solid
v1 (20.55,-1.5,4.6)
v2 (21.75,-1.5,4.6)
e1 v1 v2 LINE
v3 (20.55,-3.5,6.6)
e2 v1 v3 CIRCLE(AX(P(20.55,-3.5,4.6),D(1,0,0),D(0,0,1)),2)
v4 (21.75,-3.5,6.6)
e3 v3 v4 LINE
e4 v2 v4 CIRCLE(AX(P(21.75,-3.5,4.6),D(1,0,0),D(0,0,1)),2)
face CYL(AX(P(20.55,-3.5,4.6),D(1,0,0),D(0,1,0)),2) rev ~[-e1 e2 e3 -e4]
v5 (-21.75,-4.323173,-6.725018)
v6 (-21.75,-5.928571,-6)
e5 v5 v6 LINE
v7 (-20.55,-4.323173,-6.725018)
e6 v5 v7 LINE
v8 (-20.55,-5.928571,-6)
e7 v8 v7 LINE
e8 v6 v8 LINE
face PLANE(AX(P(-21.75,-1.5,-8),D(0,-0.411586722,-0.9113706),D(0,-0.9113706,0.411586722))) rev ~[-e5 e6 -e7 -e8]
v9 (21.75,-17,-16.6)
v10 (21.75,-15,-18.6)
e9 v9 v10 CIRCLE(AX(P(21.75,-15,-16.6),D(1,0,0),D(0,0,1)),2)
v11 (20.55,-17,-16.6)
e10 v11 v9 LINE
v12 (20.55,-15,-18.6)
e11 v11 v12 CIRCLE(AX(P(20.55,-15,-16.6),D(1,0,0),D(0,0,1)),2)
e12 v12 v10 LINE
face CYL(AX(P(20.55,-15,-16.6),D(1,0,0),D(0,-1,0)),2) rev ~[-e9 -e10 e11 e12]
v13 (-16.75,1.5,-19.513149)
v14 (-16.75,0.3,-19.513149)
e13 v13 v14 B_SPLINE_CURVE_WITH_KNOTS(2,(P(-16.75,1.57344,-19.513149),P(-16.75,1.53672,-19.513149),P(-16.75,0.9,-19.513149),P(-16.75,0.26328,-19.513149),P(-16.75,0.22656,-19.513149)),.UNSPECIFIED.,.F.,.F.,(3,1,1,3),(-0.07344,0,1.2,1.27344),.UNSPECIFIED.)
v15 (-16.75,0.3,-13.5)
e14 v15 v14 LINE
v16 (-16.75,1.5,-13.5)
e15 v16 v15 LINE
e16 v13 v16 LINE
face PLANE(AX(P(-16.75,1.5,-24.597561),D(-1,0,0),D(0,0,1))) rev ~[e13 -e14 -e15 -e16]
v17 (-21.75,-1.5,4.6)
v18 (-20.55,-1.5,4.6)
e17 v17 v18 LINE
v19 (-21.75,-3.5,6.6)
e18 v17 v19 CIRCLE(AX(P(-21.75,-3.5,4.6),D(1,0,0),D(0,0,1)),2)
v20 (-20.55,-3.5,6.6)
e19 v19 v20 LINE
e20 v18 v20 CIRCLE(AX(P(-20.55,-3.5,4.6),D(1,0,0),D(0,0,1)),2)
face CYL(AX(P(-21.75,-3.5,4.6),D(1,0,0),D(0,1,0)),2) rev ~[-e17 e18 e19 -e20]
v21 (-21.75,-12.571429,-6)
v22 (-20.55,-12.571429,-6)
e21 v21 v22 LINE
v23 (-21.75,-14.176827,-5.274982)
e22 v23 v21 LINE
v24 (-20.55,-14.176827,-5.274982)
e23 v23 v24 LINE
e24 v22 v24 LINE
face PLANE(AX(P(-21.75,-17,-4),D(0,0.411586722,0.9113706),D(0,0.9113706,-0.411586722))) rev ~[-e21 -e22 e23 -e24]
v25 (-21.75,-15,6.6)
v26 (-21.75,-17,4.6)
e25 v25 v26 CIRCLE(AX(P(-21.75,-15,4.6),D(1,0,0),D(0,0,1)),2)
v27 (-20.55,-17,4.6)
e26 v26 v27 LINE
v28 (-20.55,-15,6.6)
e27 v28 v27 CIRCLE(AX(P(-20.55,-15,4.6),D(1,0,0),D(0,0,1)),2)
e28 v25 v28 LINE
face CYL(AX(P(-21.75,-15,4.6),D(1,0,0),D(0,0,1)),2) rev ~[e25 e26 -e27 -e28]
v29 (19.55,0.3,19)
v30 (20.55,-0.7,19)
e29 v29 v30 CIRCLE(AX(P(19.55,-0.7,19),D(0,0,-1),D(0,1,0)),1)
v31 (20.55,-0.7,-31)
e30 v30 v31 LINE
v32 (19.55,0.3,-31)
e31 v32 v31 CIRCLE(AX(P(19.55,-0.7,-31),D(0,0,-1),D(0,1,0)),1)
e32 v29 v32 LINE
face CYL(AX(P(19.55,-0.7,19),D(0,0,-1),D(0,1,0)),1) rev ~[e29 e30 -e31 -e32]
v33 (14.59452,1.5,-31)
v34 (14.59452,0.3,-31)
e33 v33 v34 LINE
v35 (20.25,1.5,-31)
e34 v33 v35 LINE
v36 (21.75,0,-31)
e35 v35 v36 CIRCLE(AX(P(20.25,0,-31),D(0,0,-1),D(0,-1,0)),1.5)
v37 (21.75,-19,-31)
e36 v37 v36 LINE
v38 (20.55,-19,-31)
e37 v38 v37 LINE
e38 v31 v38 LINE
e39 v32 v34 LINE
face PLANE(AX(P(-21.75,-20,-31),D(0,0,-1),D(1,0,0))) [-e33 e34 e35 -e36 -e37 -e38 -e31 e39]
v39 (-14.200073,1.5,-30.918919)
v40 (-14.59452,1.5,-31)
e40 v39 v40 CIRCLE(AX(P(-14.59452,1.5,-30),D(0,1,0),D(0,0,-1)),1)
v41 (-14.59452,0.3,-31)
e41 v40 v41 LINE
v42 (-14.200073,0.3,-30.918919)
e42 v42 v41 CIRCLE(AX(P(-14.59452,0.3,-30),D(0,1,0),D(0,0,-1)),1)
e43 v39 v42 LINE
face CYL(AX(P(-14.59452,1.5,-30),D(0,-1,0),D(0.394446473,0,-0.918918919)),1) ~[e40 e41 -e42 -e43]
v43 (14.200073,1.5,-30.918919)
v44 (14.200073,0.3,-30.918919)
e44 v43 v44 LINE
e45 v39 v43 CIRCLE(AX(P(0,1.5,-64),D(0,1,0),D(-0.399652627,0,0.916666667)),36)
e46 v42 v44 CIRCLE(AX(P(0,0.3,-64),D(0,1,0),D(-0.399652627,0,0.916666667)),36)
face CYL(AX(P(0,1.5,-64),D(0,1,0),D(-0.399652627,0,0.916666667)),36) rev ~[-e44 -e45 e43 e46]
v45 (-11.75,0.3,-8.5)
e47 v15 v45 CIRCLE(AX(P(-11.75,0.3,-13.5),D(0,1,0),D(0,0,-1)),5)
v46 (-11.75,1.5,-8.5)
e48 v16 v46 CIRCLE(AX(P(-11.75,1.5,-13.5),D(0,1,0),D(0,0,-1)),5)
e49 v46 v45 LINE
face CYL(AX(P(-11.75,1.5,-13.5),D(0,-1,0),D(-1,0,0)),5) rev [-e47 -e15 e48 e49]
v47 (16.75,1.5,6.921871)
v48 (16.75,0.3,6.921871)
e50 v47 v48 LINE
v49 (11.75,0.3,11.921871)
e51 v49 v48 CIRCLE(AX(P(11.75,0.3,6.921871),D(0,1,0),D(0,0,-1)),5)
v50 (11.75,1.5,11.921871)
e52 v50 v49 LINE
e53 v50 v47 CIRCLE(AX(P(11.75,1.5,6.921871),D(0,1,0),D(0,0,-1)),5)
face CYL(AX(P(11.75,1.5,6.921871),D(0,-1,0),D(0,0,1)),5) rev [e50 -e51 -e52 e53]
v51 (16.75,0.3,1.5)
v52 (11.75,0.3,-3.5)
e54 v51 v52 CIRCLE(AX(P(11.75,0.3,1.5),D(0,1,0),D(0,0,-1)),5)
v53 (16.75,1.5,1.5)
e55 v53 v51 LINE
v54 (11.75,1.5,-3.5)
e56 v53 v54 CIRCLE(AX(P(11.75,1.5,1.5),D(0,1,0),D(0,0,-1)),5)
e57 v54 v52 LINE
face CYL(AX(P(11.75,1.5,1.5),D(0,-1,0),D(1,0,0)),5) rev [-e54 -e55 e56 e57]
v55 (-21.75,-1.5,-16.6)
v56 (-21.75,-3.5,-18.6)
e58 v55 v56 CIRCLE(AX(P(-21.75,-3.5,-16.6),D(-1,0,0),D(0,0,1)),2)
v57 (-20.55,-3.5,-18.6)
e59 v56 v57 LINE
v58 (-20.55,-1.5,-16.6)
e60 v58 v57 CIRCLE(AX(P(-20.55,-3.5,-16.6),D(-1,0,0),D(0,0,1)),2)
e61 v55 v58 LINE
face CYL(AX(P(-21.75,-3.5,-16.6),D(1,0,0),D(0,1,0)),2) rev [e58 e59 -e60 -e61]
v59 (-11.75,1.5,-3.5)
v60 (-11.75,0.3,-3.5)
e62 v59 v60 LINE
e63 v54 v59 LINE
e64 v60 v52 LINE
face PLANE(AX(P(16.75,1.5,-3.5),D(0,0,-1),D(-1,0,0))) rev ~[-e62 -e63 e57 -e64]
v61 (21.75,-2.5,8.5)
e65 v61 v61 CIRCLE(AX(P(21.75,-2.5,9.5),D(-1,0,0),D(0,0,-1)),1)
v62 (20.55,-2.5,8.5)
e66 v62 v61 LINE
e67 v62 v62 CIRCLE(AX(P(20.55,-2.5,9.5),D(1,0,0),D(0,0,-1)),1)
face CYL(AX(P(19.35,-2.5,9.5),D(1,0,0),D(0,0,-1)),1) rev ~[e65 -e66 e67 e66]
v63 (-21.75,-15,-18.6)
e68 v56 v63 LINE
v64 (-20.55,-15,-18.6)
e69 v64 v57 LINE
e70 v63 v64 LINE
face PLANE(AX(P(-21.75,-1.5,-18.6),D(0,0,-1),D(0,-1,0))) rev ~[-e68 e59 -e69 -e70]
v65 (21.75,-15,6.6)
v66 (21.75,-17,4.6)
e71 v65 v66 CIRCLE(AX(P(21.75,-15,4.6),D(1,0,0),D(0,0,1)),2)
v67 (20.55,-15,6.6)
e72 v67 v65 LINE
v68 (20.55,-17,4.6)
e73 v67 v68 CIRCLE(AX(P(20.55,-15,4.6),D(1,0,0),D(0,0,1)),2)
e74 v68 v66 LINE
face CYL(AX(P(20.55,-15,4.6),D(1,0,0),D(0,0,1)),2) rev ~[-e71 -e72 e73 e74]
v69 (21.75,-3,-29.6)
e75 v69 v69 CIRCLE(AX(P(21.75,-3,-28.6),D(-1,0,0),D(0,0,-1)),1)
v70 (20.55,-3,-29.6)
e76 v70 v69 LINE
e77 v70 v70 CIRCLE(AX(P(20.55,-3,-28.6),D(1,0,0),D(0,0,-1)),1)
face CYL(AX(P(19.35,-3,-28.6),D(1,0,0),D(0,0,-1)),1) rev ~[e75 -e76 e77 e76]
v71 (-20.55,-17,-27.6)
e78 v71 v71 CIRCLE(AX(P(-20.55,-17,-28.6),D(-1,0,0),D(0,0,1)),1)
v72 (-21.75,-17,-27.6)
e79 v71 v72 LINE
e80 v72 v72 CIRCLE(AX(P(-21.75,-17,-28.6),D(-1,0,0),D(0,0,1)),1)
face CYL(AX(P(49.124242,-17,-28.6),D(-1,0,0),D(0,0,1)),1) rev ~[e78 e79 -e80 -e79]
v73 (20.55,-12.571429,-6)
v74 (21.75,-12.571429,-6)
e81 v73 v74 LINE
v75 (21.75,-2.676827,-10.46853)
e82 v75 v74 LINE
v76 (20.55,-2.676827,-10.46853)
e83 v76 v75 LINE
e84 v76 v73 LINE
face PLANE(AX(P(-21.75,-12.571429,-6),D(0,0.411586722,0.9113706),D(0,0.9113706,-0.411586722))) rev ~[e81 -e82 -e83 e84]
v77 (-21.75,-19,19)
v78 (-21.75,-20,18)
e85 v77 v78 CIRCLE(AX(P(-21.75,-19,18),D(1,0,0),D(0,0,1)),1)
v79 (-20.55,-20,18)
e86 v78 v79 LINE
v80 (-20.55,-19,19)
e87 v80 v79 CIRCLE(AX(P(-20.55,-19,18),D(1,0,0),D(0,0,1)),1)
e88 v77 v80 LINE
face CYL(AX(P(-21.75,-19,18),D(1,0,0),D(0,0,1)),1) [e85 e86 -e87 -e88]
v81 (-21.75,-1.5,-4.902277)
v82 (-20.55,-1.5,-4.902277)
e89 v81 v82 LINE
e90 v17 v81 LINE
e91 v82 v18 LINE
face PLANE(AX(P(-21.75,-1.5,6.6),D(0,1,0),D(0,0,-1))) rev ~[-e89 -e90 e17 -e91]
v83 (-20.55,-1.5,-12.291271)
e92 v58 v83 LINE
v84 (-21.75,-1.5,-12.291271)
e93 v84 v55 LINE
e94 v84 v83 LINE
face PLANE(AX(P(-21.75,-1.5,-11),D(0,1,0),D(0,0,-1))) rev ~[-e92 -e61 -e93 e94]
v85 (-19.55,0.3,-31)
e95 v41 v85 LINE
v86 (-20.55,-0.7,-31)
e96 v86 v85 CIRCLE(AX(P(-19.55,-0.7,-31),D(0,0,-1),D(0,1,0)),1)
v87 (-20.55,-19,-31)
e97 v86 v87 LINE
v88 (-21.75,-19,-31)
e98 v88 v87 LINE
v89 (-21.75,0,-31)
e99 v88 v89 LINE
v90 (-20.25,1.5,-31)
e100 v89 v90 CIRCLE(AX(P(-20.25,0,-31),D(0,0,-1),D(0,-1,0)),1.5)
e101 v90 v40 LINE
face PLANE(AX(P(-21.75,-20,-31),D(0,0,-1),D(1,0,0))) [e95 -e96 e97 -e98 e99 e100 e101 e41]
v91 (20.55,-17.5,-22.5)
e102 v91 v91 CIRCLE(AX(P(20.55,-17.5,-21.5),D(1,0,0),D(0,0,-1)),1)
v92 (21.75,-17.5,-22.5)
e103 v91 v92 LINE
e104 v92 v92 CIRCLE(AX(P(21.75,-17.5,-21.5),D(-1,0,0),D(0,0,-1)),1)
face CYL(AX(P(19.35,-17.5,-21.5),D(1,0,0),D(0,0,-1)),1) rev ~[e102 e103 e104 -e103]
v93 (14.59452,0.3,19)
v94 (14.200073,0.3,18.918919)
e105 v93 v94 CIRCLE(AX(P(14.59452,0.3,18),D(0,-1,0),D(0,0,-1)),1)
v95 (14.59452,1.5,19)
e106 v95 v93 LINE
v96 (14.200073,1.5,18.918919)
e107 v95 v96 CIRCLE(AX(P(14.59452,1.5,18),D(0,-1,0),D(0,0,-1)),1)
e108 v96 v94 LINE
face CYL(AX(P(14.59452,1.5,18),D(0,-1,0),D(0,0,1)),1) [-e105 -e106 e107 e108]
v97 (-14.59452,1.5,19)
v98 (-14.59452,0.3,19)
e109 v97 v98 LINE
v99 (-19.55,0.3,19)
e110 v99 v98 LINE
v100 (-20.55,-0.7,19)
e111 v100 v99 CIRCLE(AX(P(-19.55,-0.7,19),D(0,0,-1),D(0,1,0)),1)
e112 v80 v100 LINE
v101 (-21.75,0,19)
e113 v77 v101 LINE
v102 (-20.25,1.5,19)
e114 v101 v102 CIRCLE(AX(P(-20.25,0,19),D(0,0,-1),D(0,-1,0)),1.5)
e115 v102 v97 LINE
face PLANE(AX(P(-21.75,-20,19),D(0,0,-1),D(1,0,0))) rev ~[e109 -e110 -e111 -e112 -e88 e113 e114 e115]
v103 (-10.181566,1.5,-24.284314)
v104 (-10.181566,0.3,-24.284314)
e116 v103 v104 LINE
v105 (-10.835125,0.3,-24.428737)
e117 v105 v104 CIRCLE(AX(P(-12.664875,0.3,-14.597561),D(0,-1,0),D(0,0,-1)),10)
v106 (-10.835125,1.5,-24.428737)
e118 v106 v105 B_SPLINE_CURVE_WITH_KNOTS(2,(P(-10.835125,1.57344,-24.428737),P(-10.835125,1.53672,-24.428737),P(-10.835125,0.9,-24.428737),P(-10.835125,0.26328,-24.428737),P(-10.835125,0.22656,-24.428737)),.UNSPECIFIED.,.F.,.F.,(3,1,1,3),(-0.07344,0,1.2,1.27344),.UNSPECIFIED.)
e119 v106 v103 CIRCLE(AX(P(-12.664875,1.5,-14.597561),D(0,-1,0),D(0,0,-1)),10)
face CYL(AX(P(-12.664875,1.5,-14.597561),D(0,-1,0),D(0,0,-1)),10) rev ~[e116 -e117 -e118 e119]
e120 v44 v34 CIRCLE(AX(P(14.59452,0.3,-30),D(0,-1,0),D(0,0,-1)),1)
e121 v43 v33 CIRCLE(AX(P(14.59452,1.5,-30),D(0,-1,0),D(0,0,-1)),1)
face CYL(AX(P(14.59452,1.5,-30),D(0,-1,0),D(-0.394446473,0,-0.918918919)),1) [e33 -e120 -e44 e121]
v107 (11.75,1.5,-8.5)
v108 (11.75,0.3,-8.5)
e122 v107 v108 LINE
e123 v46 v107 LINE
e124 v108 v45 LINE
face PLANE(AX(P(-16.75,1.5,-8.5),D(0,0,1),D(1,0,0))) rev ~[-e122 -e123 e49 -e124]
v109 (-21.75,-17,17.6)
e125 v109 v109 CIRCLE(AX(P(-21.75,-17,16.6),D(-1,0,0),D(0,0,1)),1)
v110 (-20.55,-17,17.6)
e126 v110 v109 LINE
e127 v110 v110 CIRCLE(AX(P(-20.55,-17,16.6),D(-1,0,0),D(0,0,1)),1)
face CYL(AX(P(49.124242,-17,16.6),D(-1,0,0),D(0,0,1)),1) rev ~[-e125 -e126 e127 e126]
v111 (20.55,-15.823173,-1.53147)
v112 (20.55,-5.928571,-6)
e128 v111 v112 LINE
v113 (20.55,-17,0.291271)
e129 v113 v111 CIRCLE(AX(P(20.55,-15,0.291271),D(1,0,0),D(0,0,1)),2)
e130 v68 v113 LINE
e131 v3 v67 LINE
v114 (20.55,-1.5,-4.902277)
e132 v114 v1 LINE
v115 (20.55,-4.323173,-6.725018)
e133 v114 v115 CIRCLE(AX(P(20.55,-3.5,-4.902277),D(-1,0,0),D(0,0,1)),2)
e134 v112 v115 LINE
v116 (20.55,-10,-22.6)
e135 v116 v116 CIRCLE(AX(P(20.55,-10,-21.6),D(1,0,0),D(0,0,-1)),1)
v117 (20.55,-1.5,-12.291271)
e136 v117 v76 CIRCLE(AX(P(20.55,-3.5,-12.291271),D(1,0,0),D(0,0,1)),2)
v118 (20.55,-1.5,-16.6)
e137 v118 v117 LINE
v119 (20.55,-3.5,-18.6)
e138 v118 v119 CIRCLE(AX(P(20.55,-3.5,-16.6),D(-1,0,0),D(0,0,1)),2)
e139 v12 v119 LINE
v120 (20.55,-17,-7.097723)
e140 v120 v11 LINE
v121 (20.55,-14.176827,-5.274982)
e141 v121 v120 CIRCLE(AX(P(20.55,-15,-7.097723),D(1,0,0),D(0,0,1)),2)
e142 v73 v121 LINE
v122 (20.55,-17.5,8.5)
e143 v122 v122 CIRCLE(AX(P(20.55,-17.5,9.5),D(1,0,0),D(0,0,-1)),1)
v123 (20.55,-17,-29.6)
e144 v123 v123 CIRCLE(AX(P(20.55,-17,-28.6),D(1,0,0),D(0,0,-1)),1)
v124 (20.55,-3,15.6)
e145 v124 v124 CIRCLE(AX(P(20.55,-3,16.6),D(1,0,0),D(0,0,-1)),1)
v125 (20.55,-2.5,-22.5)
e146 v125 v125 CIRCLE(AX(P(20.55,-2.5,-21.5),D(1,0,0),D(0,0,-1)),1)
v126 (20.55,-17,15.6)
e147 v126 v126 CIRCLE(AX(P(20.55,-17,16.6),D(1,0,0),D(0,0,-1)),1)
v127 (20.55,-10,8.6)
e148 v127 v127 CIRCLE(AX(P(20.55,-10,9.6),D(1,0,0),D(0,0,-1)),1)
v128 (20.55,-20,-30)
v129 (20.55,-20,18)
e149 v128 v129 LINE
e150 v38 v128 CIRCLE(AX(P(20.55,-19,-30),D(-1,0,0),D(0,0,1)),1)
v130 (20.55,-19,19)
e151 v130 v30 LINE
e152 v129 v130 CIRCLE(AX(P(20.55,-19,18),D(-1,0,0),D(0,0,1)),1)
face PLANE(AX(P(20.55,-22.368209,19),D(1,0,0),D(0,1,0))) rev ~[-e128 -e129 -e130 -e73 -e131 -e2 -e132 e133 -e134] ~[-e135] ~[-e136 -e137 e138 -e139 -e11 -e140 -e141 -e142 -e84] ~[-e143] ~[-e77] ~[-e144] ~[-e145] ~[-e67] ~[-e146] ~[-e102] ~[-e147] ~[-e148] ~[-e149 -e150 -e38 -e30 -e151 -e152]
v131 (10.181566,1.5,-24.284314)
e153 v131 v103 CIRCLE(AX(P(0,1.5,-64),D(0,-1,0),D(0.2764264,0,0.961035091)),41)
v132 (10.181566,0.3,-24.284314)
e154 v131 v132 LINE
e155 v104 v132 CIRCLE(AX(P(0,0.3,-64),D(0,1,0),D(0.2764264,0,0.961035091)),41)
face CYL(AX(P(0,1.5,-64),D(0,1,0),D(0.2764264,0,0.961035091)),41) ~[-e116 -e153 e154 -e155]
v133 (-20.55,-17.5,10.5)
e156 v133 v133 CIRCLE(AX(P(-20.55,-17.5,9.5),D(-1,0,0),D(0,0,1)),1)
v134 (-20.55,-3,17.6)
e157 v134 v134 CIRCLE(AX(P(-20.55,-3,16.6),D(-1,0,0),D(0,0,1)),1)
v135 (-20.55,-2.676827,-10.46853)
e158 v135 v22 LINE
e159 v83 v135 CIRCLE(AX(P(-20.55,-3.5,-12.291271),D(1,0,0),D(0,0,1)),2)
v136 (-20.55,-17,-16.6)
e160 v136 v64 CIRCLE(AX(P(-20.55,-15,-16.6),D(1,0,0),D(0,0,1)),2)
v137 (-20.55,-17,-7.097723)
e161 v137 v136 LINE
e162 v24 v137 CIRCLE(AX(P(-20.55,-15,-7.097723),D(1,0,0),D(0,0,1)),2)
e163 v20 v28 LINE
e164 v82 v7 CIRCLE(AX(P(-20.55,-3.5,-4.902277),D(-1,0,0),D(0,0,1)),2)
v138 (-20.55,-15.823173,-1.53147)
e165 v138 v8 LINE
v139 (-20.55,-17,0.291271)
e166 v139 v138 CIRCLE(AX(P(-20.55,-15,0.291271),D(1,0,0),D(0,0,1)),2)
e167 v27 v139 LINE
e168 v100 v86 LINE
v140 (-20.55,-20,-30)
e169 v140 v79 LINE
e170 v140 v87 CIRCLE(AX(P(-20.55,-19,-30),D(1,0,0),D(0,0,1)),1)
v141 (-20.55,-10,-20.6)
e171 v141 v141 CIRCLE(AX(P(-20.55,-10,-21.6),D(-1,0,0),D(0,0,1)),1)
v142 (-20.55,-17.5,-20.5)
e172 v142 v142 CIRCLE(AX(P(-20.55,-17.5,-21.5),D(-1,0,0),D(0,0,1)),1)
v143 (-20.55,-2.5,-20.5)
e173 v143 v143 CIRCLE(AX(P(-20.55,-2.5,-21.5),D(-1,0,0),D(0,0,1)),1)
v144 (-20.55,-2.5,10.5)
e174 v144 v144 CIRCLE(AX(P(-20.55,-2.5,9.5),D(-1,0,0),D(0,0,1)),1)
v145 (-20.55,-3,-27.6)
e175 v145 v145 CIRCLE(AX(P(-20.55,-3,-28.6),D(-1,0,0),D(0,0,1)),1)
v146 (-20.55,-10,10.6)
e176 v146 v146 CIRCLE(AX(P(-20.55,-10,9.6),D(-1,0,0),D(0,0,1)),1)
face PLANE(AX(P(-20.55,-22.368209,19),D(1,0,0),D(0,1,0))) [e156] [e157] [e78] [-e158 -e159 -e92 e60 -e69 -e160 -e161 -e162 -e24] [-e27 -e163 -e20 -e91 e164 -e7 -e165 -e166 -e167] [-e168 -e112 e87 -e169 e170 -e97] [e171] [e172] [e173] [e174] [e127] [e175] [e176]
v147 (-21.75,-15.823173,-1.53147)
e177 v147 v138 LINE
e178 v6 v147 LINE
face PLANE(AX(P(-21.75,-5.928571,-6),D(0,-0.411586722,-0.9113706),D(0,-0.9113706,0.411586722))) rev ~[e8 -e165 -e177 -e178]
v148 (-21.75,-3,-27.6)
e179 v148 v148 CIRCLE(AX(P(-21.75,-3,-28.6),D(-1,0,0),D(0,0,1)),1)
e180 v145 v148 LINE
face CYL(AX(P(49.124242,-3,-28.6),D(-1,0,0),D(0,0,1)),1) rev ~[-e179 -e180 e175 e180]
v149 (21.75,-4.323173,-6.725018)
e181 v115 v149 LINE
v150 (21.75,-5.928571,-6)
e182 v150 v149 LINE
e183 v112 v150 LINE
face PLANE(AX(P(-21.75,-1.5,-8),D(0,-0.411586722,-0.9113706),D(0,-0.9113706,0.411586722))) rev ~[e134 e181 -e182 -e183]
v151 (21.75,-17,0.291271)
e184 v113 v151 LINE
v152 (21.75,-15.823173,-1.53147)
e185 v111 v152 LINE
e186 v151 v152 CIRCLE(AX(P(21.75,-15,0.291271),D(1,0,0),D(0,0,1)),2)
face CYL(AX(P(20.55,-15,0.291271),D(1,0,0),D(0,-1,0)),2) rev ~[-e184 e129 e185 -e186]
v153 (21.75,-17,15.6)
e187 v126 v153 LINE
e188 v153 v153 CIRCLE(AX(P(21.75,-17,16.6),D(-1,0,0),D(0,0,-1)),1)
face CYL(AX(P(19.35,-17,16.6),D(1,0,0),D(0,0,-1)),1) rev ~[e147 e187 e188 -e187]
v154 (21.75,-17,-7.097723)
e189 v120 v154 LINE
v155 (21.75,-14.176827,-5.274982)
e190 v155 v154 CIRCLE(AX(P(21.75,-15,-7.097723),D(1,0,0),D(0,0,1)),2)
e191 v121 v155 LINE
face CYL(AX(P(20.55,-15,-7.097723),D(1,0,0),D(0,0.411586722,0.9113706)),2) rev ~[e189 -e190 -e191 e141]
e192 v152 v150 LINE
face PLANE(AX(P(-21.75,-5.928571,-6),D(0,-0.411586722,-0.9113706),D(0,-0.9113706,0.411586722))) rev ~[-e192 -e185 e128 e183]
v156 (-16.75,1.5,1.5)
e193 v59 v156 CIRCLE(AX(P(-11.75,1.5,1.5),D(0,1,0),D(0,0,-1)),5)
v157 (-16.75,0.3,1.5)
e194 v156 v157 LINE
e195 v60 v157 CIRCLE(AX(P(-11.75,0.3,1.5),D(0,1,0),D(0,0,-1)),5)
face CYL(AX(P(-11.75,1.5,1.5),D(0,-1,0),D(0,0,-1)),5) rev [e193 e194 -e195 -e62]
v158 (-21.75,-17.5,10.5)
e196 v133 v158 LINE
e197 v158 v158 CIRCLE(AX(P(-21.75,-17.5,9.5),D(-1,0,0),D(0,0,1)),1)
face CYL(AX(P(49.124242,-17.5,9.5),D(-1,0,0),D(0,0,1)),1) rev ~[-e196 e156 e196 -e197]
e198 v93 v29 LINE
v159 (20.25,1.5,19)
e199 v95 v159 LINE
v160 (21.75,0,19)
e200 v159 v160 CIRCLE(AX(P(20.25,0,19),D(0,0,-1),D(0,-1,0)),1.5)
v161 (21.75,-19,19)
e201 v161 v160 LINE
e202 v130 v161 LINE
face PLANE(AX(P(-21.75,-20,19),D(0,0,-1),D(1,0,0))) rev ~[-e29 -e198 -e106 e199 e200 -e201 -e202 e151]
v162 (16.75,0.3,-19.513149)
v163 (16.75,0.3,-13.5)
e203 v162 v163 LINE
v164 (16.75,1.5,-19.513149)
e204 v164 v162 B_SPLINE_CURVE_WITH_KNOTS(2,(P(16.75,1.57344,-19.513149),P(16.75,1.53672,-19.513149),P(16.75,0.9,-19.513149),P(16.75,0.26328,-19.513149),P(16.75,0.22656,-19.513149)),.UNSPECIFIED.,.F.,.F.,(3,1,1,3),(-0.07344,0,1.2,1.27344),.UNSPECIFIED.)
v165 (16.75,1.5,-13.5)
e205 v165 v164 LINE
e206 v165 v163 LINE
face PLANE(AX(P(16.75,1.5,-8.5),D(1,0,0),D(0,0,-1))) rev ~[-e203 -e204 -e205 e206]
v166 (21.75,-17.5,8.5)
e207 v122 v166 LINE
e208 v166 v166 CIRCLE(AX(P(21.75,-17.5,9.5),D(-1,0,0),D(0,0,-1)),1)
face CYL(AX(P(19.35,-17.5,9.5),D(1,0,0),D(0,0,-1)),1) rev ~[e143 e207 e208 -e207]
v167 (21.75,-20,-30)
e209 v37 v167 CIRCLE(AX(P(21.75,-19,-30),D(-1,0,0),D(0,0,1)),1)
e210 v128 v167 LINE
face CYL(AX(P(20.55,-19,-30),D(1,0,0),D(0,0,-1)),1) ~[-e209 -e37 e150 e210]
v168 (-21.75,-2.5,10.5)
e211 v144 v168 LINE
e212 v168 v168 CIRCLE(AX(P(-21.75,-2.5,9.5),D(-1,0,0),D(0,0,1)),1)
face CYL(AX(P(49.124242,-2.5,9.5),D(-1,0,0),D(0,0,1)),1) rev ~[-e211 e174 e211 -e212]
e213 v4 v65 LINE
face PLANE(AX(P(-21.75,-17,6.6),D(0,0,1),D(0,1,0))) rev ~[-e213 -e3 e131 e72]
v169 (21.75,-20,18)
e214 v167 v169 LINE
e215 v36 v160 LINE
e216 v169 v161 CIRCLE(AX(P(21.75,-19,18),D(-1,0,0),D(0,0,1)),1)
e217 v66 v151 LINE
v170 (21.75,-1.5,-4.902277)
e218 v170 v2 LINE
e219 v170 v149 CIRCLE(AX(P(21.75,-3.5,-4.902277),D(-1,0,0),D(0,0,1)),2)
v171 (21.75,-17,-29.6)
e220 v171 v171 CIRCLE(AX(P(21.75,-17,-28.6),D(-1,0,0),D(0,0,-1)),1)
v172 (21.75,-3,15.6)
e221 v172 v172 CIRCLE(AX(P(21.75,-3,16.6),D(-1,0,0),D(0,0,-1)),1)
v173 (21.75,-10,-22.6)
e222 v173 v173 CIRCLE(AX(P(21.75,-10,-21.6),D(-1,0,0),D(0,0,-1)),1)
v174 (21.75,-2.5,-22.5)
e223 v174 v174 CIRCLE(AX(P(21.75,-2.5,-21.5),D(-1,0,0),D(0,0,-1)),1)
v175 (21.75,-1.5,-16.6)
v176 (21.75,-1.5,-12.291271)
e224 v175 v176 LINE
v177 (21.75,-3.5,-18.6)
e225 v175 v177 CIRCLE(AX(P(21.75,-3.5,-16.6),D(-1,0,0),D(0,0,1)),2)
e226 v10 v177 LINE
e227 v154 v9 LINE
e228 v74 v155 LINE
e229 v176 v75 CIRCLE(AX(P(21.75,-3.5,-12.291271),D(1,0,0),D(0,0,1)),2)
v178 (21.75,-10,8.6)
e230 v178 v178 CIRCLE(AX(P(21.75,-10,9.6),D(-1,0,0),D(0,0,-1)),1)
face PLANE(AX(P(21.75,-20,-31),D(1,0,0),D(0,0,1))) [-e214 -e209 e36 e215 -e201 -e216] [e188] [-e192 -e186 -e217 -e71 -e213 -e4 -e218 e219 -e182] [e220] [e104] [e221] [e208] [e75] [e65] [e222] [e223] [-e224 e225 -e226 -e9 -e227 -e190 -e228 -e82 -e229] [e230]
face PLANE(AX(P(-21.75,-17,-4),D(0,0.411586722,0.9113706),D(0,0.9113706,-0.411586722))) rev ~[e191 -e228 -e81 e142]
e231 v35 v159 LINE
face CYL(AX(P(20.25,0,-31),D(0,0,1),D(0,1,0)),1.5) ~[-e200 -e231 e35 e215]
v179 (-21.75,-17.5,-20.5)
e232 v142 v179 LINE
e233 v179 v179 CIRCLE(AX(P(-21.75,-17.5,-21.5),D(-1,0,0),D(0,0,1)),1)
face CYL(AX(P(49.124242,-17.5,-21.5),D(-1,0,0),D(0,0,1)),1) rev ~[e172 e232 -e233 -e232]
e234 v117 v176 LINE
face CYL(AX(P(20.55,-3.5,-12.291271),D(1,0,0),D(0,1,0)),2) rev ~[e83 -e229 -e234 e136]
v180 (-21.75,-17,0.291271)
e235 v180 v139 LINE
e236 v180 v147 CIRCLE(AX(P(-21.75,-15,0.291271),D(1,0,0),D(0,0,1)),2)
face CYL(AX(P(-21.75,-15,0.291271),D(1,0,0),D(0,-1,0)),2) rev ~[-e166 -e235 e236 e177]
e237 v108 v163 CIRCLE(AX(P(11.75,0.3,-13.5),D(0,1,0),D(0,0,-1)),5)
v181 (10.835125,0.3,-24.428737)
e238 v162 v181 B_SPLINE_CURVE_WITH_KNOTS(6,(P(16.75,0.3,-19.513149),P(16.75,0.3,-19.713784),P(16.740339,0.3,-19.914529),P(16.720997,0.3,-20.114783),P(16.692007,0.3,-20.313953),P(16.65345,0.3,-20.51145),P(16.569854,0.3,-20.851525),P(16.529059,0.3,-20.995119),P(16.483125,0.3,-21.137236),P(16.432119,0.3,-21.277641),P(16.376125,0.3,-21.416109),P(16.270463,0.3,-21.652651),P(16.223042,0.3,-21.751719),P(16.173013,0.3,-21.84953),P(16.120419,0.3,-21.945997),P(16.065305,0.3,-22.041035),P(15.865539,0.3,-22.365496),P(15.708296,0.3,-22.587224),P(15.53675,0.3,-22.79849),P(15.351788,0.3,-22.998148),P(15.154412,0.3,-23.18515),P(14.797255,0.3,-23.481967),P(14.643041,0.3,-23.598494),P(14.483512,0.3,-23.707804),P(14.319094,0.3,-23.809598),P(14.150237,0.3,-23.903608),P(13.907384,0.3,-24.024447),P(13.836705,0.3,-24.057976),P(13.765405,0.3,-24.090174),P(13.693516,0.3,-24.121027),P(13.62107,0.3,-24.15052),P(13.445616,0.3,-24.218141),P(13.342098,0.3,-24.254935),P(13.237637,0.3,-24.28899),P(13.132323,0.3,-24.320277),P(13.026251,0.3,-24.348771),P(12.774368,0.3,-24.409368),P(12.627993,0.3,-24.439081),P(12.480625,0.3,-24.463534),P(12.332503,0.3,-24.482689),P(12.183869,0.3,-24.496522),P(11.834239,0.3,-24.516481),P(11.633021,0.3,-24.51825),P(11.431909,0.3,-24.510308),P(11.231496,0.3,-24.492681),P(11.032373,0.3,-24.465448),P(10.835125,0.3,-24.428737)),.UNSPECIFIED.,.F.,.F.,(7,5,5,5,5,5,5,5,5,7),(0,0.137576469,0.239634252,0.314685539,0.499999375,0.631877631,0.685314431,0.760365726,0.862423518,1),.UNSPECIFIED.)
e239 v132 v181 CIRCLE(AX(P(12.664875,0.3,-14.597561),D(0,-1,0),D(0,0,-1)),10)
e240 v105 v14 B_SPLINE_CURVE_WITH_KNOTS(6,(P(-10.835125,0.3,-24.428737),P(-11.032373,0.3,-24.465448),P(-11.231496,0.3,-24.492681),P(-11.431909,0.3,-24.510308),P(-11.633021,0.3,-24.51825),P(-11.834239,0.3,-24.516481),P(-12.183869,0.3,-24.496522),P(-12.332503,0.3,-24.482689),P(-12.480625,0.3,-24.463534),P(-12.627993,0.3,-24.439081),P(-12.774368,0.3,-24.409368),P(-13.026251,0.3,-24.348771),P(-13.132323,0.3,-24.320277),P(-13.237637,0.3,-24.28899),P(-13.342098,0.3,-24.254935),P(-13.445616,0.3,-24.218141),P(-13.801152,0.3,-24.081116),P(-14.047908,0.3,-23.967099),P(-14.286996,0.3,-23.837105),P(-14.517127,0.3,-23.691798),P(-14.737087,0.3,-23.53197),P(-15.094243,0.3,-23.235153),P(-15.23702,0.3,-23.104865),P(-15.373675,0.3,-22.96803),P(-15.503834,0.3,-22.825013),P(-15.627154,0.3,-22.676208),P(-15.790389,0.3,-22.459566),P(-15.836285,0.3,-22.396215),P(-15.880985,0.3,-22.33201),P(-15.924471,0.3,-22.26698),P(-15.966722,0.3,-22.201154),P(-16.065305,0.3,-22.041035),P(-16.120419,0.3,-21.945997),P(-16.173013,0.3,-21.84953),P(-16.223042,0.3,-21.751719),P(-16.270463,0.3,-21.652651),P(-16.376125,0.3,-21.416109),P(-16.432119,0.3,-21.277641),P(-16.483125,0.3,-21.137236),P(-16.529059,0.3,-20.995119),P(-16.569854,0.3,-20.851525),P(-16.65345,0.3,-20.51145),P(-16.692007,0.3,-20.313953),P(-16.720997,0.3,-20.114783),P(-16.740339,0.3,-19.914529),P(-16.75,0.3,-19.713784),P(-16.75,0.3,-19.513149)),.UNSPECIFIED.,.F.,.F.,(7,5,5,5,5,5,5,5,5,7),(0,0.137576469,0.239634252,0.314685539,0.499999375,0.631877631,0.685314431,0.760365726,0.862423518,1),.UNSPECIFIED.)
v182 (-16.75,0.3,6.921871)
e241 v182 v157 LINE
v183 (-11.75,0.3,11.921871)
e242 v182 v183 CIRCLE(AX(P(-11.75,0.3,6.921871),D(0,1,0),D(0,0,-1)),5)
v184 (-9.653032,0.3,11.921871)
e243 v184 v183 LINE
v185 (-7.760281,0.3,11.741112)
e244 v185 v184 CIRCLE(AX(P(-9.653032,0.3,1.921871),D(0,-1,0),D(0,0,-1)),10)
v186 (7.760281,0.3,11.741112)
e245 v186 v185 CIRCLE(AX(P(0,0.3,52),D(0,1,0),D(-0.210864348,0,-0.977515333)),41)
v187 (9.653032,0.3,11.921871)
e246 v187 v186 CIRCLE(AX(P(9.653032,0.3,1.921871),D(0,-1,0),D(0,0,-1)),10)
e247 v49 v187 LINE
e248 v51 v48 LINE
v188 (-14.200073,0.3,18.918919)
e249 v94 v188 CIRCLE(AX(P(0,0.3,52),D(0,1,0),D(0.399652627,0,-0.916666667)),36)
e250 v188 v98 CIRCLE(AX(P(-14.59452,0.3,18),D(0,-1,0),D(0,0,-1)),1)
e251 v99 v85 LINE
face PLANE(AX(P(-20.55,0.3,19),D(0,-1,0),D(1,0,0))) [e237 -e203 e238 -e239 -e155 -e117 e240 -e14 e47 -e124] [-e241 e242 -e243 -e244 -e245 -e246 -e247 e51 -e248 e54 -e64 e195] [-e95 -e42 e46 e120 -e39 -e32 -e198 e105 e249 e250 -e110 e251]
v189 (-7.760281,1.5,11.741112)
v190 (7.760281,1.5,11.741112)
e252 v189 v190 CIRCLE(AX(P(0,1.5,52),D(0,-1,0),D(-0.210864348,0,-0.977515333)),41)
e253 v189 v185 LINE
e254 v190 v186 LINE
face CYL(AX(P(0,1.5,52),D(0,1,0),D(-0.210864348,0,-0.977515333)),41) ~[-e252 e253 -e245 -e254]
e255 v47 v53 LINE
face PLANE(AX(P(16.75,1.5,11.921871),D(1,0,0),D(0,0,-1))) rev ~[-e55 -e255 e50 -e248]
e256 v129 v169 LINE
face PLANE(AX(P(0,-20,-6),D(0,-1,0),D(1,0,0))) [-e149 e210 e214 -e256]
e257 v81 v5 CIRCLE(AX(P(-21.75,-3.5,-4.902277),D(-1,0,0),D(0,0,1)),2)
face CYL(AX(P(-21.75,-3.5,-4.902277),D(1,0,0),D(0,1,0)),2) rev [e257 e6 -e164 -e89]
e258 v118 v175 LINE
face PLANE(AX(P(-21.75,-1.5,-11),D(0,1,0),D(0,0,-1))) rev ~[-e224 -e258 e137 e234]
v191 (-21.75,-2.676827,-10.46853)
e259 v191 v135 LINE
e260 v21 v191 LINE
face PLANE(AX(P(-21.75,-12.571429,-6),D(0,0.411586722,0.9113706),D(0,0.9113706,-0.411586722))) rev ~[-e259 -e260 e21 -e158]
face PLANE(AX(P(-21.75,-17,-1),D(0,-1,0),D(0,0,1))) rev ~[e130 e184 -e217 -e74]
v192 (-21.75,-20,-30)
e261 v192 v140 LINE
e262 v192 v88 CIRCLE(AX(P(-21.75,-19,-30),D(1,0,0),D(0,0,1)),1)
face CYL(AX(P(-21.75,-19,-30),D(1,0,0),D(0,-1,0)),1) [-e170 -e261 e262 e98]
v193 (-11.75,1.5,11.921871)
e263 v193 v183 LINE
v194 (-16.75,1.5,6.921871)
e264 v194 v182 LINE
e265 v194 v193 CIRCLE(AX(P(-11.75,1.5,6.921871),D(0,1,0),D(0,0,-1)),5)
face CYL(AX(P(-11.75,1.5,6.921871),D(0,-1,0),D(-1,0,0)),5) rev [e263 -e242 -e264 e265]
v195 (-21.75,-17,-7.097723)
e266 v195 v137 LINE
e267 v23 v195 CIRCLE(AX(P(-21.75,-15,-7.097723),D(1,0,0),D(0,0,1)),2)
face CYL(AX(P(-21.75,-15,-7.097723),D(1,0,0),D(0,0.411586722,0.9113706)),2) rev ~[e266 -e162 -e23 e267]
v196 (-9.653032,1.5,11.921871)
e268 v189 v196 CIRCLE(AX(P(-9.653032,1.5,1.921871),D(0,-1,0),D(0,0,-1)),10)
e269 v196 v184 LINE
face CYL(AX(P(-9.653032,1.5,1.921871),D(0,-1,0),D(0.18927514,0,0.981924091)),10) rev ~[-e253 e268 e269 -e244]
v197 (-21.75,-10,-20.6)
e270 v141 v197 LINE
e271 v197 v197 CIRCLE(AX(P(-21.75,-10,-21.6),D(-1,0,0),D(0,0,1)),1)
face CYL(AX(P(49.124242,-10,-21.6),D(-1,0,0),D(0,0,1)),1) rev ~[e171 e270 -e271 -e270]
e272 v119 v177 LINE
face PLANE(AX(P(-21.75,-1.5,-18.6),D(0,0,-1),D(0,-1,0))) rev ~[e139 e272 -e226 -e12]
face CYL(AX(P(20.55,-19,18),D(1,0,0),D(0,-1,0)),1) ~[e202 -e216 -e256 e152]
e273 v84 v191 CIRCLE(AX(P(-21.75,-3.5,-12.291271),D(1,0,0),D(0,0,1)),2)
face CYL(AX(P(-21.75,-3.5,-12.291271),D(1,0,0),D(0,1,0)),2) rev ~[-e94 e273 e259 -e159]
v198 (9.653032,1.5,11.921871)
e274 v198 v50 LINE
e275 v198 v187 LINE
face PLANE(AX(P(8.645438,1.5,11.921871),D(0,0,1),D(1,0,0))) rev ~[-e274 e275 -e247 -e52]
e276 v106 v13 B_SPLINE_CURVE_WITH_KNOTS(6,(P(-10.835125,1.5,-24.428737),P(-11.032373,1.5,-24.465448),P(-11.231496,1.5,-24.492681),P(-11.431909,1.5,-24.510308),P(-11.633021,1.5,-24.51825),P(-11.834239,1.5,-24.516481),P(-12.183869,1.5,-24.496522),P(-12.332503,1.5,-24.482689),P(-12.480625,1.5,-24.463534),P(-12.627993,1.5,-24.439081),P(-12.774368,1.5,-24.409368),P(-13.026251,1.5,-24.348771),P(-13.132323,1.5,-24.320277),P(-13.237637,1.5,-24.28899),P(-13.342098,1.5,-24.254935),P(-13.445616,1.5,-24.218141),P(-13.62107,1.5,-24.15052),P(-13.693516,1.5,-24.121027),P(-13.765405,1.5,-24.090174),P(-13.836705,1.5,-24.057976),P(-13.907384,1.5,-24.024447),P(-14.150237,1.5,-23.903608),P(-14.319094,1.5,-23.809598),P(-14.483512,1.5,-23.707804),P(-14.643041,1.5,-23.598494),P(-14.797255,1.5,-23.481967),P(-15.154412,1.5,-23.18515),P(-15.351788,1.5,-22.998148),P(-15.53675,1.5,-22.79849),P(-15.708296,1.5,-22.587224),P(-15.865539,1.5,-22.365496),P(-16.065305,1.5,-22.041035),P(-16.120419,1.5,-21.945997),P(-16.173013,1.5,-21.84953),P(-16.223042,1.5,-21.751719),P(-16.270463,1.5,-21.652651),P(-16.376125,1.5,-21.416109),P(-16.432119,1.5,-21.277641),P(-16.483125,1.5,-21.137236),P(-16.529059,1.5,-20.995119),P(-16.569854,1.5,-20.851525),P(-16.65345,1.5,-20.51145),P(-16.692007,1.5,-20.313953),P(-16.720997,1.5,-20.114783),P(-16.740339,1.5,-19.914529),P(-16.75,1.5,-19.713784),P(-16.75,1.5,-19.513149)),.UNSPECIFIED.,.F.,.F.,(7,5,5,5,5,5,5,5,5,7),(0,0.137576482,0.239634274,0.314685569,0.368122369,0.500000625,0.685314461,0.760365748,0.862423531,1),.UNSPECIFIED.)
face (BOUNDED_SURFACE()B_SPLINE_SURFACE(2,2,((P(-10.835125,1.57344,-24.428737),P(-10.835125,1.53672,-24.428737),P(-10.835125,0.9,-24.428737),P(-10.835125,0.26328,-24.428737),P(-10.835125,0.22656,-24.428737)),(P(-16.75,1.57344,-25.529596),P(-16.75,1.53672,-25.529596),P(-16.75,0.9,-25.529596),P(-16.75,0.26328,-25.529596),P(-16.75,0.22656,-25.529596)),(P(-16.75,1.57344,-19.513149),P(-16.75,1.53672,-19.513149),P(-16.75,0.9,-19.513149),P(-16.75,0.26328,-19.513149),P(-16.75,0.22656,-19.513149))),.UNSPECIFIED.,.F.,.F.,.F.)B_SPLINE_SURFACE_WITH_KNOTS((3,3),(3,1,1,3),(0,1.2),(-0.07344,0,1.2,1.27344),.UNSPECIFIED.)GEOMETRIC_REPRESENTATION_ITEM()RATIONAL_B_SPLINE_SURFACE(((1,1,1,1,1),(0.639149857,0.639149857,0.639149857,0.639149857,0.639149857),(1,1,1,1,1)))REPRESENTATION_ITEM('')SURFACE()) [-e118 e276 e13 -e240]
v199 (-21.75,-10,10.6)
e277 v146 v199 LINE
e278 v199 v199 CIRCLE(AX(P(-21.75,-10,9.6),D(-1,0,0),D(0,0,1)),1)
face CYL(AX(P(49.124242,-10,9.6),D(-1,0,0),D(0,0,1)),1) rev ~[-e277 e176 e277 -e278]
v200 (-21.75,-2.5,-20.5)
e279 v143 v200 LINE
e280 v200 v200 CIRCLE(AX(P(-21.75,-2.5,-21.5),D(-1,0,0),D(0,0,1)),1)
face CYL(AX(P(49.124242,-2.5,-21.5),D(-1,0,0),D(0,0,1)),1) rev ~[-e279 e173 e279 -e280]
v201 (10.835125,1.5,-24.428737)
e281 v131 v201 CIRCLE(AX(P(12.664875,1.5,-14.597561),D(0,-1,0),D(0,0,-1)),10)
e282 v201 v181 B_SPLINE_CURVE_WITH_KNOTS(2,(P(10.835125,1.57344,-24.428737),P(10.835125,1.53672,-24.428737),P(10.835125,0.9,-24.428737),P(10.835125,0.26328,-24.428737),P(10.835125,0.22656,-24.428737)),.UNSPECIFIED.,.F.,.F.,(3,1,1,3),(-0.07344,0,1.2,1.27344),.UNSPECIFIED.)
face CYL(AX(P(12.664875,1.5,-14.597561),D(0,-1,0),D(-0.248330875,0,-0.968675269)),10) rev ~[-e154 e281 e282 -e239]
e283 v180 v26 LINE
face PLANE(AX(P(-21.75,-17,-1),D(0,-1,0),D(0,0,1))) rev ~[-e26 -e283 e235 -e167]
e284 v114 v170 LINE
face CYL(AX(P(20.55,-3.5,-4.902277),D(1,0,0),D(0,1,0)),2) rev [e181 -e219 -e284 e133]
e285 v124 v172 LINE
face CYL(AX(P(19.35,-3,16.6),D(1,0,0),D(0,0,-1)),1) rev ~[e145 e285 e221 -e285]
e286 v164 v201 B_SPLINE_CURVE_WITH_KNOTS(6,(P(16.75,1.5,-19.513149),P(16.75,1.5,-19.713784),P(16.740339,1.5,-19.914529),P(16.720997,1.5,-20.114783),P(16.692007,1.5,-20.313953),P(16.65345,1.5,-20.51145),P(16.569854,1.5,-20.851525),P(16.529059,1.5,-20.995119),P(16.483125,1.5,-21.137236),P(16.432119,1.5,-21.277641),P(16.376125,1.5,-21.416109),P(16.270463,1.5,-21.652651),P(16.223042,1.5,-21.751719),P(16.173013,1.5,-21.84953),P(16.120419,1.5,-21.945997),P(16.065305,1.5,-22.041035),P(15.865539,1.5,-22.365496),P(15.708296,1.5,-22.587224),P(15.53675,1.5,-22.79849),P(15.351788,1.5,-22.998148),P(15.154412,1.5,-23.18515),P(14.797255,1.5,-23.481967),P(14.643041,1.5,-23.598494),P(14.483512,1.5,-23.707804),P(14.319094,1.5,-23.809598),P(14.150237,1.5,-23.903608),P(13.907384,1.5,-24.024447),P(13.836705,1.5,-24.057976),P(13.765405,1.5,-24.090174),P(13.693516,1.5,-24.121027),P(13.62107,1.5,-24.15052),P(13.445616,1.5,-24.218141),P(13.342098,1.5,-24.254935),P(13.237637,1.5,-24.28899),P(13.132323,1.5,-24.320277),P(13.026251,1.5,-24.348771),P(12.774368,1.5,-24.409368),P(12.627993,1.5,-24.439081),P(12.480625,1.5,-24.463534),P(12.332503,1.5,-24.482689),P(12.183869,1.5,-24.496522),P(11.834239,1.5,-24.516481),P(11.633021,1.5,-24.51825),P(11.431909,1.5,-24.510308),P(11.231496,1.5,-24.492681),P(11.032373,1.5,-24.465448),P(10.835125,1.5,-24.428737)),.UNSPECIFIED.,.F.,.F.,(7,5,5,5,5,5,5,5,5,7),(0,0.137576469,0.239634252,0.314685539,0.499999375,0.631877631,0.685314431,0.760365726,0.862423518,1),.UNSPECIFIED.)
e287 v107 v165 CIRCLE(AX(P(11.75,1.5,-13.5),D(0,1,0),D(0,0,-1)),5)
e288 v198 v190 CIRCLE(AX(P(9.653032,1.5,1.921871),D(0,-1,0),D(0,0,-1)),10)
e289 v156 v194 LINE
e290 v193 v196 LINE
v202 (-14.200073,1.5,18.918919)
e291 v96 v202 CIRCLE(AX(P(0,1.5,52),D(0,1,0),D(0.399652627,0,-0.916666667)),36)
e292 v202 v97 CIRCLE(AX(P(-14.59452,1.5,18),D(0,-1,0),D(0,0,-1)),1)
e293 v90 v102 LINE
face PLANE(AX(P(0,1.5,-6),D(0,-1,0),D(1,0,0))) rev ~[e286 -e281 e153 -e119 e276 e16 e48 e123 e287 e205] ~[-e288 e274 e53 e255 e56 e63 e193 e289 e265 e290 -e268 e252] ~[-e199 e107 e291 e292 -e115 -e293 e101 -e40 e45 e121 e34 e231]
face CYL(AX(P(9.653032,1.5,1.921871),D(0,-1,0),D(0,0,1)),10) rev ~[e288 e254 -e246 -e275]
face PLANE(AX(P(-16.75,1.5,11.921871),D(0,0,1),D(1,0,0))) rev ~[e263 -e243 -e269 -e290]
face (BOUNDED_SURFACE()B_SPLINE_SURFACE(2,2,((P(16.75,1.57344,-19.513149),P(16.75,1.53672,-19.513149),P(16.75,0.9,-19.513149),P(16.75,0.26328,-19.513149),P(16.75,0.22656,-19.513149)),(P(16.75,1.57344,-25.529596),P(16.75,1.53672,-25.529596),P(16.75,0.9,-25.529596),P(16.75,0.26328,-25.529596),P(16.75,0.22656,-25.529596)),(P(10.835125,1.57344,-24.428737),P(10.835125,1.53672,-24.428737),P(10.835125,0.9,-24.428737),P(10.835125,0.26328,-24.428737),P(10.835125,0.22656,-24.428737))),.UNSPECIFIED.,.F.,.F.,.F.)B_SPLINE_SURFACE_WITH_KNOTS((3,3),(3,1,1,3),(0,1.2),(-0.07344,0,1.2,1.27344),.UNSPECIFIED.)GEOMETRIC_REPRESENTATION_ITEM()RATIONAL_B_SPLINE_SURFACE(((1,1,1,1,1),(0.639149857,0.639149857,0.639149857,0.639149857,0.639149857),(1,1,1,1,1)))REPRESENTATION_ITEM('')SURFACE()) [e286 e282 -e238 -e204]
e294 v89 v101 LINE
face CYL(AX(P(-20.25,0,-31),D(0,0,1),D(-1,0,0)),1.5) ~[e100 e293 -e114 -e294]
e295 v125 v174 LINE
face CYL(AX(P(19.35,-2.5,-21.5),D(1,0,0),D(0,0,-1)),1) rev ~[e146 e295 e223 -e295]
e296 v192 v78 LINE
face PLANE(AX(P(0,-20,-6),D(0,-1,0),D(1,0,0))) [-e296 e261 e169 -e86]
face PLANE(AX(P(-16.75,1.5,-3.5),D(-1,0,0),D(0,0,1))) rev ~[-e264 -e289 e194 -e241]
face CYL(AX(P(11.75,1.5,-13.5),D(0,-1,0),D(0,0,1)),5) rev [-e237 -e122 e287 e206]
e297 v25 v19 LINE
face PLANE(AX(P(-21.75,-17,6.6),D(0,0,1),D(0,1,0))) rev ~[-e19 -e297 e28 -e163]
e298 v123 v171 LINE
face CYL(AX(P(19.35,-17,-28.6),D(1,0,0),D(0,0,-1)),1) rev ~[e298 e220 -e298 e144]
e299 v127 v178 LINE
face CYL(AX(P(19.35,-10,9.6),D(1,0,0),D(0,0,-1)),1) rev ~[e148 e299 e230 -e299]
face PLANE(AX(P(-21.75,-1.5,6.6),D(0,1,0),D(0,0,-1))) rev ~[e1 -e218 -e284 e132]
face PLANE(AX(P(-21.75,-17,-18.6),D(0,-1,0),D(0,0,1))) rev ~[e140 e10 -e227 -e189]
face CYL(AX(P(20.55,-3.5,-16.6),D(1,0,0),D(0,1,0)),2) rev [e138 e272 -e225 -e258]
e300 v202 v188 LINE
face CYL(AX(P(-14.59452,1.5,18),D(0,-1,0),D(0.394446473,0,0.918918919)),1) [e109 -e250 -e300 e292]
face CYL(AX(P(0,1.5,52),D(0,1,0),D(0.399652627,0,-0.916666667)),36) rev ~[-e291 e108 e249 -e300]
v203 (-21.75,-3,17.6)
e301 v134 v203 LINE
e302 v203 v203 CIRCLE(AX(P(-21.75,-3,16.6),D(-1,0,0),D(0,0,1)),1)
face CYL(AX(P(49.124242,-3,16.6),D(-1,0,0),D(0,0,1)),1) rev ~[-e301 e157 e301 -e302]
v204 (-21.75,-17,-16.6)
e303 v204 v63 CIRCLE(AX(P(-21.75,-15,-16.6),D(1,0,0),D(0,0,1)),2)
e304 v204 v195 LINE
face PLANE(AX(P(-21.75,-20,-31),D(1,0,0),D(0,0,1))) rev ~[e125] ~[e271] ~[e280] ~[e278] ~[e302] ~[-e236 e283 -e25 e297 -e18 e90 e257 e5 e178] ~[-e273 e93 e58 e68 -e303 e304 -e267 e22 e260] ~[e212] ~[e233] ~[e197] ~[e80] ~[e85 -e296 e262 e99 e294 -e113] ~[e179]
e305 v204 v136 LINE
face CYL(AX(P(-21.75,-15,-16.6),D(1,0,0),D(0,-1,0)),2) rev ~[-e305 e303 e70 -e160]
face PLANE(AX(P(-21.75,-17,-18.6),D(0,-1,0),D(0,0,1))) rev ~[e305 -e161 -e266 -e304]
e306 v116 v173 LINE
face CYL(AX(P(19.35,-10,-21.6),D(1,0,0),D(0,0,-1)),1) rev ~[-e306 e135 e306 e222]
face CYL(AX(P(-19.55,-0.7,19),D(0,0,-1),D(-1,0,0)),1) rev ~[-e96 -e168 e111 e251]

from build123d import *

# Parameters (mm, degrees)
SKETCH_1_W                = 43.5
SKETCH_1_H                = 50
EXTRUDE_1_DEPTH           = 21.5
SKETCH_2_W                = 41.1
SKETCH_2_H                = 22.668209098
CUT_EXTRUDE_1_DEPTH       = 59.078072454
CUT_EXTRUDE_2_DEPTH       = 44.546670366
CUT_EXTRUDE_3_DEPTH       = 44.546670366
HOLE_WIZARD_2_0_2_1_D     = 2
HOLE_WIZARD_2_0_2_1_DEPTH = 1.2
HOLE_WIZARD_2_0_2_2_D     = 2
FILLET_1_R                = 1
FILLET_2_R                = 1.5
FILLET_3_R                = 1
CUT_EXTRUDE_5_DEPTH       = 10
FILLET_4_R                = 10
FILLET_5_R                = 5
CUT_EXTRUDE_6_DEPTH       = 58.037268572
FILLET_6_R                = 2
FILLET_7_R                = 2


with BuildPart() as part:
    # 草图1 → 凸台-拉伸1 (new body)
    with BuildSketch(Plane.XZ.offset(20)):
        with Locations((0, -6)):
            Rectangle(SKETCH_1_W, SKETCH_1_H)
    extrude(amount=-EXTRUDE_1_DEPTH)

    # 草图2 → 切除-拉伸1 (cut, through all)
    with BuildSketch(Plane.XY.offset(19)):
        with Locations((0, -11.034104549)):
            Rectangle(SKETCH_2_W, SKETCH_2_H)
    extrude(amount=-CUT_EXTRUDE_1_DEPTH, mode=Mode.SUBTRACT)

    # 草图3 → 切除-拉伸2 (cut, through all)
    with BuildSketch(Plane(origin=(0, 1.5, 0), x_dir=(-1, 0, 0), z_dir=(0, 1, 0))):
        with BuildLine():
            Line((14.38749457, 19), (-14.38749457, 19))
            ThreePointArc((-14.38749457, 19), (0, 16), (14.38749457, 19))
        make_face()
    extrude(amount=-CUT_EXTRUDE_2_DEPTH, mode=Mode.SUBTRACT)

    # 草图4 → 切除-拉伸3 (cut, through all)
    with BuildSketch(Plane(origin=(0, 1.5, 0), x_dir=(-1, 0, 0), z_dir=(0, 1, 0))):
        with BuildLine():
            Line((-14.38749457, -31), (14.38749457, -31))
            ThreePointArc((14.38749457, -31), (0, -28), (-14.38749457, -31))
        make_face()
    extrude(amount=-CUT_EXTRUDE_3_DEPTH, mode=Mode.SUBTRACT)

    # Ø2.0 (2) 直径孔1
    with Locations(Plane.ZY.offset(-20.55)):
        with Locations((16.6, -3), (16.6, -17), (9.5, -17.5), (9.6, -10), (9.5, -2.5), (-21.5, -2.5), (-28.6, -3), (-28.6, -17), (-21.5, -17.5), (-21.6, -10)):
            Hole(HOLE_WIZARD_2_0_2_1_D / 2, depth=HOLE_WIZARD_2_0_2_1_DEPTH)

    # Ø2.0 (2) 直径孔2 (through all)
    with Locations(Plane(origin=(-20.55, 0, 0), x_dir=(0, 0, -1), z_dir=(1, 0, 0))):
        with Locations((-16.6, -3), (-16.6, -17), (-9.5, -17.5), (-9.6, -10), (-9.5, -2.5), (21.5, -2.5), (28.6, -3), (28.6, -17), (21.5, -17.5), (21.6, -10)):
            Hole(HOLE_WIZARD_2_0_2_2_D / 2)

    # 圆角1
    fillet_1_edges = [part.edges().sort_by_distance(p)[0] for p in [
        (-21.15, -20, 19),
        (21.15, -20, -31),
        (-14.38749457, 0.9, 19),
        (14.38749457, 0.9, 19),
        (-21.15, -20, -31),
        (14.38749457, 0.9, -31),
        (-14.38749457, 0.9, -31),
        (21.15, -20, 19),
    ]]
    fillet(fillet_1_edges, radius=FILLET_1_R)

    # 圆角2
    fillet_2_edges = [part.edges().sort_by_distance(p)[0] for p in [
        (-21.75, 1.5, -6),
        (21.75, 1.5, -6),
    ]]
    fillet(fillet_2_edges, radius=FILLET_2_R)

    # 圆角3
    fillet_3_edges = [part.edges().sort_by_distance(p)[0] for p in [
        (-20.55, 0.3, -6),
        (20.55, 0.3, -6),
    ]]
    fillet(fillet_3_edges, radius=FILLET_3_R)

    # 草图14 → 切除-拉伸5 (cut)
    with BuildSketch(Plane(origin=(0, 1.5, 0), x_dir=(1, 0, 0), z_dir=(0, 1, 0))):
        with BuildLine():
            Line((-11.33348239, 24.597561282), (-16.75, 24.597561282))
            Line((-16.75, 24.597561282), (-16.75, 8.5))
            Line((-16.75, 8.5), (16.75, 8.5))
            Line((16.75, 8.5), (16.75, 24.597561282))
            Line((16.75, 24.597561282), (11.33348239, 24.597561282))
            ThreePointArc((11.33348239, 24.597561282), (0, 23), (-11.33348239, 24.597561282))
        make_face()
        with BuildLine():
            Line((16.75, 3.5), (-16.75, 3.5))
            Line((-16.75, 3.5), (-16.75, -11.921871339))
            Line((-16.75, -11.921871339), (-8.645438281, -11.921871339))
            ThreePointArc((-8.645438281, -11.921871339), (0, -11), (8.645438281, -11.921871339))
            Line((8.645438281, -11.921871339), (16.75, -11.921871339))
            Line((16.75, -11.921871339), (16.75, 3.5))
        make_face()
    extrude(amount=-CUT_EXTRUDE_5_DEPTH, mode=Mode.SUBTRACT)

    # 圆角4
    fillet_4_edges = [part.edges().sort_by_distance(p)[0] for p in [
        (-11.33348239, 0.9, -24.597561282),
        (11.33348239, 0.9, -24.597561282),
        (8.645438281, 0.9, 11.921871339),
        (-8.645438281, 0.9, 11.921871339),
    ]]
    fillet(fillet_4_edges, radius=FILLET_4_R)

    # 圆角5
    fillet_5_edges = [part.edges().sort_by_distance(p)[0] for p in [
        (-16.75, 0.9, 11.921871339),
        (-16.75, 0.9, -3.5),
        (16.75, 0.9, 11.921871339),
        (16.75, 0.9, -3.5),
        (16.75, 0.9, -8.5),
        (16.75, 0.9, -24.597561282),
        (-16.75, 0.9, -8.5),
        (-16.75, 0.9, -24.597561282),
    ]]
    fillet(fillet_5_edges, radius=FILLET_5_R)

    # 草图15 → 切除-拉伸6 (cut, through all)
    with BuildSketch(Plane.ZY.offset(21.75)):
        Polygon((-11, -1.5), (-18.6, -1.5), (-18.6, -17), (-6, -17), (-6, -12.571428571), align=None)
        Polygon((-4, -17), (-6, -12.571428571), (-6, -17), align=None)
        Polygon((6.6, -1.5), (-6, -1.5), (-6, -5.928571429), (-1, -17), (6.6, -17), align=None)
        Polygon((-6, -1.5), (-8, -1.5), (-6, -5.928571429), align=None)
    extrude(amount=-CUT_EXTRUDE_6_DEPTH, mode=Mode.SUBTRACT)

    # 圆角6
    fillet_6_edges = [part.edges().sort_by_distance(p)[0] for p in [
        (-21.15, -1.5, -8),
        (-21.15, -1.5, 6.6),
        (-21.15, -17, 6.6),
        (-21.15, -17, -1),
        (-21.15, -17, -4),
        (-21.15, -17, -18.6),
        (-21.15, -1.5, -18.6),
        (-21.15, -1.5, -11),
    ]]
    fillet(fillet_6_edges, radius=FILLET_6_R)

    # 圆角7
    fillet_7_edges = [part.edges().sort_by_distance(p)[0] for p in [
        (21.15, -1.5, -8),
        (21.15, -1.5, 6.6),
        (21.15, -17, 6.6),
        (21.15, -17, -1),
        (21.15, -17, -4),
        (21.15, -17, -18.6),
        (21.15, -1.5, -18.6),
        (21.15, -1.5, -11),
    ]]
    fillet(fillet_7_edges, radius=FILLET_7_R)


solid = part.part
